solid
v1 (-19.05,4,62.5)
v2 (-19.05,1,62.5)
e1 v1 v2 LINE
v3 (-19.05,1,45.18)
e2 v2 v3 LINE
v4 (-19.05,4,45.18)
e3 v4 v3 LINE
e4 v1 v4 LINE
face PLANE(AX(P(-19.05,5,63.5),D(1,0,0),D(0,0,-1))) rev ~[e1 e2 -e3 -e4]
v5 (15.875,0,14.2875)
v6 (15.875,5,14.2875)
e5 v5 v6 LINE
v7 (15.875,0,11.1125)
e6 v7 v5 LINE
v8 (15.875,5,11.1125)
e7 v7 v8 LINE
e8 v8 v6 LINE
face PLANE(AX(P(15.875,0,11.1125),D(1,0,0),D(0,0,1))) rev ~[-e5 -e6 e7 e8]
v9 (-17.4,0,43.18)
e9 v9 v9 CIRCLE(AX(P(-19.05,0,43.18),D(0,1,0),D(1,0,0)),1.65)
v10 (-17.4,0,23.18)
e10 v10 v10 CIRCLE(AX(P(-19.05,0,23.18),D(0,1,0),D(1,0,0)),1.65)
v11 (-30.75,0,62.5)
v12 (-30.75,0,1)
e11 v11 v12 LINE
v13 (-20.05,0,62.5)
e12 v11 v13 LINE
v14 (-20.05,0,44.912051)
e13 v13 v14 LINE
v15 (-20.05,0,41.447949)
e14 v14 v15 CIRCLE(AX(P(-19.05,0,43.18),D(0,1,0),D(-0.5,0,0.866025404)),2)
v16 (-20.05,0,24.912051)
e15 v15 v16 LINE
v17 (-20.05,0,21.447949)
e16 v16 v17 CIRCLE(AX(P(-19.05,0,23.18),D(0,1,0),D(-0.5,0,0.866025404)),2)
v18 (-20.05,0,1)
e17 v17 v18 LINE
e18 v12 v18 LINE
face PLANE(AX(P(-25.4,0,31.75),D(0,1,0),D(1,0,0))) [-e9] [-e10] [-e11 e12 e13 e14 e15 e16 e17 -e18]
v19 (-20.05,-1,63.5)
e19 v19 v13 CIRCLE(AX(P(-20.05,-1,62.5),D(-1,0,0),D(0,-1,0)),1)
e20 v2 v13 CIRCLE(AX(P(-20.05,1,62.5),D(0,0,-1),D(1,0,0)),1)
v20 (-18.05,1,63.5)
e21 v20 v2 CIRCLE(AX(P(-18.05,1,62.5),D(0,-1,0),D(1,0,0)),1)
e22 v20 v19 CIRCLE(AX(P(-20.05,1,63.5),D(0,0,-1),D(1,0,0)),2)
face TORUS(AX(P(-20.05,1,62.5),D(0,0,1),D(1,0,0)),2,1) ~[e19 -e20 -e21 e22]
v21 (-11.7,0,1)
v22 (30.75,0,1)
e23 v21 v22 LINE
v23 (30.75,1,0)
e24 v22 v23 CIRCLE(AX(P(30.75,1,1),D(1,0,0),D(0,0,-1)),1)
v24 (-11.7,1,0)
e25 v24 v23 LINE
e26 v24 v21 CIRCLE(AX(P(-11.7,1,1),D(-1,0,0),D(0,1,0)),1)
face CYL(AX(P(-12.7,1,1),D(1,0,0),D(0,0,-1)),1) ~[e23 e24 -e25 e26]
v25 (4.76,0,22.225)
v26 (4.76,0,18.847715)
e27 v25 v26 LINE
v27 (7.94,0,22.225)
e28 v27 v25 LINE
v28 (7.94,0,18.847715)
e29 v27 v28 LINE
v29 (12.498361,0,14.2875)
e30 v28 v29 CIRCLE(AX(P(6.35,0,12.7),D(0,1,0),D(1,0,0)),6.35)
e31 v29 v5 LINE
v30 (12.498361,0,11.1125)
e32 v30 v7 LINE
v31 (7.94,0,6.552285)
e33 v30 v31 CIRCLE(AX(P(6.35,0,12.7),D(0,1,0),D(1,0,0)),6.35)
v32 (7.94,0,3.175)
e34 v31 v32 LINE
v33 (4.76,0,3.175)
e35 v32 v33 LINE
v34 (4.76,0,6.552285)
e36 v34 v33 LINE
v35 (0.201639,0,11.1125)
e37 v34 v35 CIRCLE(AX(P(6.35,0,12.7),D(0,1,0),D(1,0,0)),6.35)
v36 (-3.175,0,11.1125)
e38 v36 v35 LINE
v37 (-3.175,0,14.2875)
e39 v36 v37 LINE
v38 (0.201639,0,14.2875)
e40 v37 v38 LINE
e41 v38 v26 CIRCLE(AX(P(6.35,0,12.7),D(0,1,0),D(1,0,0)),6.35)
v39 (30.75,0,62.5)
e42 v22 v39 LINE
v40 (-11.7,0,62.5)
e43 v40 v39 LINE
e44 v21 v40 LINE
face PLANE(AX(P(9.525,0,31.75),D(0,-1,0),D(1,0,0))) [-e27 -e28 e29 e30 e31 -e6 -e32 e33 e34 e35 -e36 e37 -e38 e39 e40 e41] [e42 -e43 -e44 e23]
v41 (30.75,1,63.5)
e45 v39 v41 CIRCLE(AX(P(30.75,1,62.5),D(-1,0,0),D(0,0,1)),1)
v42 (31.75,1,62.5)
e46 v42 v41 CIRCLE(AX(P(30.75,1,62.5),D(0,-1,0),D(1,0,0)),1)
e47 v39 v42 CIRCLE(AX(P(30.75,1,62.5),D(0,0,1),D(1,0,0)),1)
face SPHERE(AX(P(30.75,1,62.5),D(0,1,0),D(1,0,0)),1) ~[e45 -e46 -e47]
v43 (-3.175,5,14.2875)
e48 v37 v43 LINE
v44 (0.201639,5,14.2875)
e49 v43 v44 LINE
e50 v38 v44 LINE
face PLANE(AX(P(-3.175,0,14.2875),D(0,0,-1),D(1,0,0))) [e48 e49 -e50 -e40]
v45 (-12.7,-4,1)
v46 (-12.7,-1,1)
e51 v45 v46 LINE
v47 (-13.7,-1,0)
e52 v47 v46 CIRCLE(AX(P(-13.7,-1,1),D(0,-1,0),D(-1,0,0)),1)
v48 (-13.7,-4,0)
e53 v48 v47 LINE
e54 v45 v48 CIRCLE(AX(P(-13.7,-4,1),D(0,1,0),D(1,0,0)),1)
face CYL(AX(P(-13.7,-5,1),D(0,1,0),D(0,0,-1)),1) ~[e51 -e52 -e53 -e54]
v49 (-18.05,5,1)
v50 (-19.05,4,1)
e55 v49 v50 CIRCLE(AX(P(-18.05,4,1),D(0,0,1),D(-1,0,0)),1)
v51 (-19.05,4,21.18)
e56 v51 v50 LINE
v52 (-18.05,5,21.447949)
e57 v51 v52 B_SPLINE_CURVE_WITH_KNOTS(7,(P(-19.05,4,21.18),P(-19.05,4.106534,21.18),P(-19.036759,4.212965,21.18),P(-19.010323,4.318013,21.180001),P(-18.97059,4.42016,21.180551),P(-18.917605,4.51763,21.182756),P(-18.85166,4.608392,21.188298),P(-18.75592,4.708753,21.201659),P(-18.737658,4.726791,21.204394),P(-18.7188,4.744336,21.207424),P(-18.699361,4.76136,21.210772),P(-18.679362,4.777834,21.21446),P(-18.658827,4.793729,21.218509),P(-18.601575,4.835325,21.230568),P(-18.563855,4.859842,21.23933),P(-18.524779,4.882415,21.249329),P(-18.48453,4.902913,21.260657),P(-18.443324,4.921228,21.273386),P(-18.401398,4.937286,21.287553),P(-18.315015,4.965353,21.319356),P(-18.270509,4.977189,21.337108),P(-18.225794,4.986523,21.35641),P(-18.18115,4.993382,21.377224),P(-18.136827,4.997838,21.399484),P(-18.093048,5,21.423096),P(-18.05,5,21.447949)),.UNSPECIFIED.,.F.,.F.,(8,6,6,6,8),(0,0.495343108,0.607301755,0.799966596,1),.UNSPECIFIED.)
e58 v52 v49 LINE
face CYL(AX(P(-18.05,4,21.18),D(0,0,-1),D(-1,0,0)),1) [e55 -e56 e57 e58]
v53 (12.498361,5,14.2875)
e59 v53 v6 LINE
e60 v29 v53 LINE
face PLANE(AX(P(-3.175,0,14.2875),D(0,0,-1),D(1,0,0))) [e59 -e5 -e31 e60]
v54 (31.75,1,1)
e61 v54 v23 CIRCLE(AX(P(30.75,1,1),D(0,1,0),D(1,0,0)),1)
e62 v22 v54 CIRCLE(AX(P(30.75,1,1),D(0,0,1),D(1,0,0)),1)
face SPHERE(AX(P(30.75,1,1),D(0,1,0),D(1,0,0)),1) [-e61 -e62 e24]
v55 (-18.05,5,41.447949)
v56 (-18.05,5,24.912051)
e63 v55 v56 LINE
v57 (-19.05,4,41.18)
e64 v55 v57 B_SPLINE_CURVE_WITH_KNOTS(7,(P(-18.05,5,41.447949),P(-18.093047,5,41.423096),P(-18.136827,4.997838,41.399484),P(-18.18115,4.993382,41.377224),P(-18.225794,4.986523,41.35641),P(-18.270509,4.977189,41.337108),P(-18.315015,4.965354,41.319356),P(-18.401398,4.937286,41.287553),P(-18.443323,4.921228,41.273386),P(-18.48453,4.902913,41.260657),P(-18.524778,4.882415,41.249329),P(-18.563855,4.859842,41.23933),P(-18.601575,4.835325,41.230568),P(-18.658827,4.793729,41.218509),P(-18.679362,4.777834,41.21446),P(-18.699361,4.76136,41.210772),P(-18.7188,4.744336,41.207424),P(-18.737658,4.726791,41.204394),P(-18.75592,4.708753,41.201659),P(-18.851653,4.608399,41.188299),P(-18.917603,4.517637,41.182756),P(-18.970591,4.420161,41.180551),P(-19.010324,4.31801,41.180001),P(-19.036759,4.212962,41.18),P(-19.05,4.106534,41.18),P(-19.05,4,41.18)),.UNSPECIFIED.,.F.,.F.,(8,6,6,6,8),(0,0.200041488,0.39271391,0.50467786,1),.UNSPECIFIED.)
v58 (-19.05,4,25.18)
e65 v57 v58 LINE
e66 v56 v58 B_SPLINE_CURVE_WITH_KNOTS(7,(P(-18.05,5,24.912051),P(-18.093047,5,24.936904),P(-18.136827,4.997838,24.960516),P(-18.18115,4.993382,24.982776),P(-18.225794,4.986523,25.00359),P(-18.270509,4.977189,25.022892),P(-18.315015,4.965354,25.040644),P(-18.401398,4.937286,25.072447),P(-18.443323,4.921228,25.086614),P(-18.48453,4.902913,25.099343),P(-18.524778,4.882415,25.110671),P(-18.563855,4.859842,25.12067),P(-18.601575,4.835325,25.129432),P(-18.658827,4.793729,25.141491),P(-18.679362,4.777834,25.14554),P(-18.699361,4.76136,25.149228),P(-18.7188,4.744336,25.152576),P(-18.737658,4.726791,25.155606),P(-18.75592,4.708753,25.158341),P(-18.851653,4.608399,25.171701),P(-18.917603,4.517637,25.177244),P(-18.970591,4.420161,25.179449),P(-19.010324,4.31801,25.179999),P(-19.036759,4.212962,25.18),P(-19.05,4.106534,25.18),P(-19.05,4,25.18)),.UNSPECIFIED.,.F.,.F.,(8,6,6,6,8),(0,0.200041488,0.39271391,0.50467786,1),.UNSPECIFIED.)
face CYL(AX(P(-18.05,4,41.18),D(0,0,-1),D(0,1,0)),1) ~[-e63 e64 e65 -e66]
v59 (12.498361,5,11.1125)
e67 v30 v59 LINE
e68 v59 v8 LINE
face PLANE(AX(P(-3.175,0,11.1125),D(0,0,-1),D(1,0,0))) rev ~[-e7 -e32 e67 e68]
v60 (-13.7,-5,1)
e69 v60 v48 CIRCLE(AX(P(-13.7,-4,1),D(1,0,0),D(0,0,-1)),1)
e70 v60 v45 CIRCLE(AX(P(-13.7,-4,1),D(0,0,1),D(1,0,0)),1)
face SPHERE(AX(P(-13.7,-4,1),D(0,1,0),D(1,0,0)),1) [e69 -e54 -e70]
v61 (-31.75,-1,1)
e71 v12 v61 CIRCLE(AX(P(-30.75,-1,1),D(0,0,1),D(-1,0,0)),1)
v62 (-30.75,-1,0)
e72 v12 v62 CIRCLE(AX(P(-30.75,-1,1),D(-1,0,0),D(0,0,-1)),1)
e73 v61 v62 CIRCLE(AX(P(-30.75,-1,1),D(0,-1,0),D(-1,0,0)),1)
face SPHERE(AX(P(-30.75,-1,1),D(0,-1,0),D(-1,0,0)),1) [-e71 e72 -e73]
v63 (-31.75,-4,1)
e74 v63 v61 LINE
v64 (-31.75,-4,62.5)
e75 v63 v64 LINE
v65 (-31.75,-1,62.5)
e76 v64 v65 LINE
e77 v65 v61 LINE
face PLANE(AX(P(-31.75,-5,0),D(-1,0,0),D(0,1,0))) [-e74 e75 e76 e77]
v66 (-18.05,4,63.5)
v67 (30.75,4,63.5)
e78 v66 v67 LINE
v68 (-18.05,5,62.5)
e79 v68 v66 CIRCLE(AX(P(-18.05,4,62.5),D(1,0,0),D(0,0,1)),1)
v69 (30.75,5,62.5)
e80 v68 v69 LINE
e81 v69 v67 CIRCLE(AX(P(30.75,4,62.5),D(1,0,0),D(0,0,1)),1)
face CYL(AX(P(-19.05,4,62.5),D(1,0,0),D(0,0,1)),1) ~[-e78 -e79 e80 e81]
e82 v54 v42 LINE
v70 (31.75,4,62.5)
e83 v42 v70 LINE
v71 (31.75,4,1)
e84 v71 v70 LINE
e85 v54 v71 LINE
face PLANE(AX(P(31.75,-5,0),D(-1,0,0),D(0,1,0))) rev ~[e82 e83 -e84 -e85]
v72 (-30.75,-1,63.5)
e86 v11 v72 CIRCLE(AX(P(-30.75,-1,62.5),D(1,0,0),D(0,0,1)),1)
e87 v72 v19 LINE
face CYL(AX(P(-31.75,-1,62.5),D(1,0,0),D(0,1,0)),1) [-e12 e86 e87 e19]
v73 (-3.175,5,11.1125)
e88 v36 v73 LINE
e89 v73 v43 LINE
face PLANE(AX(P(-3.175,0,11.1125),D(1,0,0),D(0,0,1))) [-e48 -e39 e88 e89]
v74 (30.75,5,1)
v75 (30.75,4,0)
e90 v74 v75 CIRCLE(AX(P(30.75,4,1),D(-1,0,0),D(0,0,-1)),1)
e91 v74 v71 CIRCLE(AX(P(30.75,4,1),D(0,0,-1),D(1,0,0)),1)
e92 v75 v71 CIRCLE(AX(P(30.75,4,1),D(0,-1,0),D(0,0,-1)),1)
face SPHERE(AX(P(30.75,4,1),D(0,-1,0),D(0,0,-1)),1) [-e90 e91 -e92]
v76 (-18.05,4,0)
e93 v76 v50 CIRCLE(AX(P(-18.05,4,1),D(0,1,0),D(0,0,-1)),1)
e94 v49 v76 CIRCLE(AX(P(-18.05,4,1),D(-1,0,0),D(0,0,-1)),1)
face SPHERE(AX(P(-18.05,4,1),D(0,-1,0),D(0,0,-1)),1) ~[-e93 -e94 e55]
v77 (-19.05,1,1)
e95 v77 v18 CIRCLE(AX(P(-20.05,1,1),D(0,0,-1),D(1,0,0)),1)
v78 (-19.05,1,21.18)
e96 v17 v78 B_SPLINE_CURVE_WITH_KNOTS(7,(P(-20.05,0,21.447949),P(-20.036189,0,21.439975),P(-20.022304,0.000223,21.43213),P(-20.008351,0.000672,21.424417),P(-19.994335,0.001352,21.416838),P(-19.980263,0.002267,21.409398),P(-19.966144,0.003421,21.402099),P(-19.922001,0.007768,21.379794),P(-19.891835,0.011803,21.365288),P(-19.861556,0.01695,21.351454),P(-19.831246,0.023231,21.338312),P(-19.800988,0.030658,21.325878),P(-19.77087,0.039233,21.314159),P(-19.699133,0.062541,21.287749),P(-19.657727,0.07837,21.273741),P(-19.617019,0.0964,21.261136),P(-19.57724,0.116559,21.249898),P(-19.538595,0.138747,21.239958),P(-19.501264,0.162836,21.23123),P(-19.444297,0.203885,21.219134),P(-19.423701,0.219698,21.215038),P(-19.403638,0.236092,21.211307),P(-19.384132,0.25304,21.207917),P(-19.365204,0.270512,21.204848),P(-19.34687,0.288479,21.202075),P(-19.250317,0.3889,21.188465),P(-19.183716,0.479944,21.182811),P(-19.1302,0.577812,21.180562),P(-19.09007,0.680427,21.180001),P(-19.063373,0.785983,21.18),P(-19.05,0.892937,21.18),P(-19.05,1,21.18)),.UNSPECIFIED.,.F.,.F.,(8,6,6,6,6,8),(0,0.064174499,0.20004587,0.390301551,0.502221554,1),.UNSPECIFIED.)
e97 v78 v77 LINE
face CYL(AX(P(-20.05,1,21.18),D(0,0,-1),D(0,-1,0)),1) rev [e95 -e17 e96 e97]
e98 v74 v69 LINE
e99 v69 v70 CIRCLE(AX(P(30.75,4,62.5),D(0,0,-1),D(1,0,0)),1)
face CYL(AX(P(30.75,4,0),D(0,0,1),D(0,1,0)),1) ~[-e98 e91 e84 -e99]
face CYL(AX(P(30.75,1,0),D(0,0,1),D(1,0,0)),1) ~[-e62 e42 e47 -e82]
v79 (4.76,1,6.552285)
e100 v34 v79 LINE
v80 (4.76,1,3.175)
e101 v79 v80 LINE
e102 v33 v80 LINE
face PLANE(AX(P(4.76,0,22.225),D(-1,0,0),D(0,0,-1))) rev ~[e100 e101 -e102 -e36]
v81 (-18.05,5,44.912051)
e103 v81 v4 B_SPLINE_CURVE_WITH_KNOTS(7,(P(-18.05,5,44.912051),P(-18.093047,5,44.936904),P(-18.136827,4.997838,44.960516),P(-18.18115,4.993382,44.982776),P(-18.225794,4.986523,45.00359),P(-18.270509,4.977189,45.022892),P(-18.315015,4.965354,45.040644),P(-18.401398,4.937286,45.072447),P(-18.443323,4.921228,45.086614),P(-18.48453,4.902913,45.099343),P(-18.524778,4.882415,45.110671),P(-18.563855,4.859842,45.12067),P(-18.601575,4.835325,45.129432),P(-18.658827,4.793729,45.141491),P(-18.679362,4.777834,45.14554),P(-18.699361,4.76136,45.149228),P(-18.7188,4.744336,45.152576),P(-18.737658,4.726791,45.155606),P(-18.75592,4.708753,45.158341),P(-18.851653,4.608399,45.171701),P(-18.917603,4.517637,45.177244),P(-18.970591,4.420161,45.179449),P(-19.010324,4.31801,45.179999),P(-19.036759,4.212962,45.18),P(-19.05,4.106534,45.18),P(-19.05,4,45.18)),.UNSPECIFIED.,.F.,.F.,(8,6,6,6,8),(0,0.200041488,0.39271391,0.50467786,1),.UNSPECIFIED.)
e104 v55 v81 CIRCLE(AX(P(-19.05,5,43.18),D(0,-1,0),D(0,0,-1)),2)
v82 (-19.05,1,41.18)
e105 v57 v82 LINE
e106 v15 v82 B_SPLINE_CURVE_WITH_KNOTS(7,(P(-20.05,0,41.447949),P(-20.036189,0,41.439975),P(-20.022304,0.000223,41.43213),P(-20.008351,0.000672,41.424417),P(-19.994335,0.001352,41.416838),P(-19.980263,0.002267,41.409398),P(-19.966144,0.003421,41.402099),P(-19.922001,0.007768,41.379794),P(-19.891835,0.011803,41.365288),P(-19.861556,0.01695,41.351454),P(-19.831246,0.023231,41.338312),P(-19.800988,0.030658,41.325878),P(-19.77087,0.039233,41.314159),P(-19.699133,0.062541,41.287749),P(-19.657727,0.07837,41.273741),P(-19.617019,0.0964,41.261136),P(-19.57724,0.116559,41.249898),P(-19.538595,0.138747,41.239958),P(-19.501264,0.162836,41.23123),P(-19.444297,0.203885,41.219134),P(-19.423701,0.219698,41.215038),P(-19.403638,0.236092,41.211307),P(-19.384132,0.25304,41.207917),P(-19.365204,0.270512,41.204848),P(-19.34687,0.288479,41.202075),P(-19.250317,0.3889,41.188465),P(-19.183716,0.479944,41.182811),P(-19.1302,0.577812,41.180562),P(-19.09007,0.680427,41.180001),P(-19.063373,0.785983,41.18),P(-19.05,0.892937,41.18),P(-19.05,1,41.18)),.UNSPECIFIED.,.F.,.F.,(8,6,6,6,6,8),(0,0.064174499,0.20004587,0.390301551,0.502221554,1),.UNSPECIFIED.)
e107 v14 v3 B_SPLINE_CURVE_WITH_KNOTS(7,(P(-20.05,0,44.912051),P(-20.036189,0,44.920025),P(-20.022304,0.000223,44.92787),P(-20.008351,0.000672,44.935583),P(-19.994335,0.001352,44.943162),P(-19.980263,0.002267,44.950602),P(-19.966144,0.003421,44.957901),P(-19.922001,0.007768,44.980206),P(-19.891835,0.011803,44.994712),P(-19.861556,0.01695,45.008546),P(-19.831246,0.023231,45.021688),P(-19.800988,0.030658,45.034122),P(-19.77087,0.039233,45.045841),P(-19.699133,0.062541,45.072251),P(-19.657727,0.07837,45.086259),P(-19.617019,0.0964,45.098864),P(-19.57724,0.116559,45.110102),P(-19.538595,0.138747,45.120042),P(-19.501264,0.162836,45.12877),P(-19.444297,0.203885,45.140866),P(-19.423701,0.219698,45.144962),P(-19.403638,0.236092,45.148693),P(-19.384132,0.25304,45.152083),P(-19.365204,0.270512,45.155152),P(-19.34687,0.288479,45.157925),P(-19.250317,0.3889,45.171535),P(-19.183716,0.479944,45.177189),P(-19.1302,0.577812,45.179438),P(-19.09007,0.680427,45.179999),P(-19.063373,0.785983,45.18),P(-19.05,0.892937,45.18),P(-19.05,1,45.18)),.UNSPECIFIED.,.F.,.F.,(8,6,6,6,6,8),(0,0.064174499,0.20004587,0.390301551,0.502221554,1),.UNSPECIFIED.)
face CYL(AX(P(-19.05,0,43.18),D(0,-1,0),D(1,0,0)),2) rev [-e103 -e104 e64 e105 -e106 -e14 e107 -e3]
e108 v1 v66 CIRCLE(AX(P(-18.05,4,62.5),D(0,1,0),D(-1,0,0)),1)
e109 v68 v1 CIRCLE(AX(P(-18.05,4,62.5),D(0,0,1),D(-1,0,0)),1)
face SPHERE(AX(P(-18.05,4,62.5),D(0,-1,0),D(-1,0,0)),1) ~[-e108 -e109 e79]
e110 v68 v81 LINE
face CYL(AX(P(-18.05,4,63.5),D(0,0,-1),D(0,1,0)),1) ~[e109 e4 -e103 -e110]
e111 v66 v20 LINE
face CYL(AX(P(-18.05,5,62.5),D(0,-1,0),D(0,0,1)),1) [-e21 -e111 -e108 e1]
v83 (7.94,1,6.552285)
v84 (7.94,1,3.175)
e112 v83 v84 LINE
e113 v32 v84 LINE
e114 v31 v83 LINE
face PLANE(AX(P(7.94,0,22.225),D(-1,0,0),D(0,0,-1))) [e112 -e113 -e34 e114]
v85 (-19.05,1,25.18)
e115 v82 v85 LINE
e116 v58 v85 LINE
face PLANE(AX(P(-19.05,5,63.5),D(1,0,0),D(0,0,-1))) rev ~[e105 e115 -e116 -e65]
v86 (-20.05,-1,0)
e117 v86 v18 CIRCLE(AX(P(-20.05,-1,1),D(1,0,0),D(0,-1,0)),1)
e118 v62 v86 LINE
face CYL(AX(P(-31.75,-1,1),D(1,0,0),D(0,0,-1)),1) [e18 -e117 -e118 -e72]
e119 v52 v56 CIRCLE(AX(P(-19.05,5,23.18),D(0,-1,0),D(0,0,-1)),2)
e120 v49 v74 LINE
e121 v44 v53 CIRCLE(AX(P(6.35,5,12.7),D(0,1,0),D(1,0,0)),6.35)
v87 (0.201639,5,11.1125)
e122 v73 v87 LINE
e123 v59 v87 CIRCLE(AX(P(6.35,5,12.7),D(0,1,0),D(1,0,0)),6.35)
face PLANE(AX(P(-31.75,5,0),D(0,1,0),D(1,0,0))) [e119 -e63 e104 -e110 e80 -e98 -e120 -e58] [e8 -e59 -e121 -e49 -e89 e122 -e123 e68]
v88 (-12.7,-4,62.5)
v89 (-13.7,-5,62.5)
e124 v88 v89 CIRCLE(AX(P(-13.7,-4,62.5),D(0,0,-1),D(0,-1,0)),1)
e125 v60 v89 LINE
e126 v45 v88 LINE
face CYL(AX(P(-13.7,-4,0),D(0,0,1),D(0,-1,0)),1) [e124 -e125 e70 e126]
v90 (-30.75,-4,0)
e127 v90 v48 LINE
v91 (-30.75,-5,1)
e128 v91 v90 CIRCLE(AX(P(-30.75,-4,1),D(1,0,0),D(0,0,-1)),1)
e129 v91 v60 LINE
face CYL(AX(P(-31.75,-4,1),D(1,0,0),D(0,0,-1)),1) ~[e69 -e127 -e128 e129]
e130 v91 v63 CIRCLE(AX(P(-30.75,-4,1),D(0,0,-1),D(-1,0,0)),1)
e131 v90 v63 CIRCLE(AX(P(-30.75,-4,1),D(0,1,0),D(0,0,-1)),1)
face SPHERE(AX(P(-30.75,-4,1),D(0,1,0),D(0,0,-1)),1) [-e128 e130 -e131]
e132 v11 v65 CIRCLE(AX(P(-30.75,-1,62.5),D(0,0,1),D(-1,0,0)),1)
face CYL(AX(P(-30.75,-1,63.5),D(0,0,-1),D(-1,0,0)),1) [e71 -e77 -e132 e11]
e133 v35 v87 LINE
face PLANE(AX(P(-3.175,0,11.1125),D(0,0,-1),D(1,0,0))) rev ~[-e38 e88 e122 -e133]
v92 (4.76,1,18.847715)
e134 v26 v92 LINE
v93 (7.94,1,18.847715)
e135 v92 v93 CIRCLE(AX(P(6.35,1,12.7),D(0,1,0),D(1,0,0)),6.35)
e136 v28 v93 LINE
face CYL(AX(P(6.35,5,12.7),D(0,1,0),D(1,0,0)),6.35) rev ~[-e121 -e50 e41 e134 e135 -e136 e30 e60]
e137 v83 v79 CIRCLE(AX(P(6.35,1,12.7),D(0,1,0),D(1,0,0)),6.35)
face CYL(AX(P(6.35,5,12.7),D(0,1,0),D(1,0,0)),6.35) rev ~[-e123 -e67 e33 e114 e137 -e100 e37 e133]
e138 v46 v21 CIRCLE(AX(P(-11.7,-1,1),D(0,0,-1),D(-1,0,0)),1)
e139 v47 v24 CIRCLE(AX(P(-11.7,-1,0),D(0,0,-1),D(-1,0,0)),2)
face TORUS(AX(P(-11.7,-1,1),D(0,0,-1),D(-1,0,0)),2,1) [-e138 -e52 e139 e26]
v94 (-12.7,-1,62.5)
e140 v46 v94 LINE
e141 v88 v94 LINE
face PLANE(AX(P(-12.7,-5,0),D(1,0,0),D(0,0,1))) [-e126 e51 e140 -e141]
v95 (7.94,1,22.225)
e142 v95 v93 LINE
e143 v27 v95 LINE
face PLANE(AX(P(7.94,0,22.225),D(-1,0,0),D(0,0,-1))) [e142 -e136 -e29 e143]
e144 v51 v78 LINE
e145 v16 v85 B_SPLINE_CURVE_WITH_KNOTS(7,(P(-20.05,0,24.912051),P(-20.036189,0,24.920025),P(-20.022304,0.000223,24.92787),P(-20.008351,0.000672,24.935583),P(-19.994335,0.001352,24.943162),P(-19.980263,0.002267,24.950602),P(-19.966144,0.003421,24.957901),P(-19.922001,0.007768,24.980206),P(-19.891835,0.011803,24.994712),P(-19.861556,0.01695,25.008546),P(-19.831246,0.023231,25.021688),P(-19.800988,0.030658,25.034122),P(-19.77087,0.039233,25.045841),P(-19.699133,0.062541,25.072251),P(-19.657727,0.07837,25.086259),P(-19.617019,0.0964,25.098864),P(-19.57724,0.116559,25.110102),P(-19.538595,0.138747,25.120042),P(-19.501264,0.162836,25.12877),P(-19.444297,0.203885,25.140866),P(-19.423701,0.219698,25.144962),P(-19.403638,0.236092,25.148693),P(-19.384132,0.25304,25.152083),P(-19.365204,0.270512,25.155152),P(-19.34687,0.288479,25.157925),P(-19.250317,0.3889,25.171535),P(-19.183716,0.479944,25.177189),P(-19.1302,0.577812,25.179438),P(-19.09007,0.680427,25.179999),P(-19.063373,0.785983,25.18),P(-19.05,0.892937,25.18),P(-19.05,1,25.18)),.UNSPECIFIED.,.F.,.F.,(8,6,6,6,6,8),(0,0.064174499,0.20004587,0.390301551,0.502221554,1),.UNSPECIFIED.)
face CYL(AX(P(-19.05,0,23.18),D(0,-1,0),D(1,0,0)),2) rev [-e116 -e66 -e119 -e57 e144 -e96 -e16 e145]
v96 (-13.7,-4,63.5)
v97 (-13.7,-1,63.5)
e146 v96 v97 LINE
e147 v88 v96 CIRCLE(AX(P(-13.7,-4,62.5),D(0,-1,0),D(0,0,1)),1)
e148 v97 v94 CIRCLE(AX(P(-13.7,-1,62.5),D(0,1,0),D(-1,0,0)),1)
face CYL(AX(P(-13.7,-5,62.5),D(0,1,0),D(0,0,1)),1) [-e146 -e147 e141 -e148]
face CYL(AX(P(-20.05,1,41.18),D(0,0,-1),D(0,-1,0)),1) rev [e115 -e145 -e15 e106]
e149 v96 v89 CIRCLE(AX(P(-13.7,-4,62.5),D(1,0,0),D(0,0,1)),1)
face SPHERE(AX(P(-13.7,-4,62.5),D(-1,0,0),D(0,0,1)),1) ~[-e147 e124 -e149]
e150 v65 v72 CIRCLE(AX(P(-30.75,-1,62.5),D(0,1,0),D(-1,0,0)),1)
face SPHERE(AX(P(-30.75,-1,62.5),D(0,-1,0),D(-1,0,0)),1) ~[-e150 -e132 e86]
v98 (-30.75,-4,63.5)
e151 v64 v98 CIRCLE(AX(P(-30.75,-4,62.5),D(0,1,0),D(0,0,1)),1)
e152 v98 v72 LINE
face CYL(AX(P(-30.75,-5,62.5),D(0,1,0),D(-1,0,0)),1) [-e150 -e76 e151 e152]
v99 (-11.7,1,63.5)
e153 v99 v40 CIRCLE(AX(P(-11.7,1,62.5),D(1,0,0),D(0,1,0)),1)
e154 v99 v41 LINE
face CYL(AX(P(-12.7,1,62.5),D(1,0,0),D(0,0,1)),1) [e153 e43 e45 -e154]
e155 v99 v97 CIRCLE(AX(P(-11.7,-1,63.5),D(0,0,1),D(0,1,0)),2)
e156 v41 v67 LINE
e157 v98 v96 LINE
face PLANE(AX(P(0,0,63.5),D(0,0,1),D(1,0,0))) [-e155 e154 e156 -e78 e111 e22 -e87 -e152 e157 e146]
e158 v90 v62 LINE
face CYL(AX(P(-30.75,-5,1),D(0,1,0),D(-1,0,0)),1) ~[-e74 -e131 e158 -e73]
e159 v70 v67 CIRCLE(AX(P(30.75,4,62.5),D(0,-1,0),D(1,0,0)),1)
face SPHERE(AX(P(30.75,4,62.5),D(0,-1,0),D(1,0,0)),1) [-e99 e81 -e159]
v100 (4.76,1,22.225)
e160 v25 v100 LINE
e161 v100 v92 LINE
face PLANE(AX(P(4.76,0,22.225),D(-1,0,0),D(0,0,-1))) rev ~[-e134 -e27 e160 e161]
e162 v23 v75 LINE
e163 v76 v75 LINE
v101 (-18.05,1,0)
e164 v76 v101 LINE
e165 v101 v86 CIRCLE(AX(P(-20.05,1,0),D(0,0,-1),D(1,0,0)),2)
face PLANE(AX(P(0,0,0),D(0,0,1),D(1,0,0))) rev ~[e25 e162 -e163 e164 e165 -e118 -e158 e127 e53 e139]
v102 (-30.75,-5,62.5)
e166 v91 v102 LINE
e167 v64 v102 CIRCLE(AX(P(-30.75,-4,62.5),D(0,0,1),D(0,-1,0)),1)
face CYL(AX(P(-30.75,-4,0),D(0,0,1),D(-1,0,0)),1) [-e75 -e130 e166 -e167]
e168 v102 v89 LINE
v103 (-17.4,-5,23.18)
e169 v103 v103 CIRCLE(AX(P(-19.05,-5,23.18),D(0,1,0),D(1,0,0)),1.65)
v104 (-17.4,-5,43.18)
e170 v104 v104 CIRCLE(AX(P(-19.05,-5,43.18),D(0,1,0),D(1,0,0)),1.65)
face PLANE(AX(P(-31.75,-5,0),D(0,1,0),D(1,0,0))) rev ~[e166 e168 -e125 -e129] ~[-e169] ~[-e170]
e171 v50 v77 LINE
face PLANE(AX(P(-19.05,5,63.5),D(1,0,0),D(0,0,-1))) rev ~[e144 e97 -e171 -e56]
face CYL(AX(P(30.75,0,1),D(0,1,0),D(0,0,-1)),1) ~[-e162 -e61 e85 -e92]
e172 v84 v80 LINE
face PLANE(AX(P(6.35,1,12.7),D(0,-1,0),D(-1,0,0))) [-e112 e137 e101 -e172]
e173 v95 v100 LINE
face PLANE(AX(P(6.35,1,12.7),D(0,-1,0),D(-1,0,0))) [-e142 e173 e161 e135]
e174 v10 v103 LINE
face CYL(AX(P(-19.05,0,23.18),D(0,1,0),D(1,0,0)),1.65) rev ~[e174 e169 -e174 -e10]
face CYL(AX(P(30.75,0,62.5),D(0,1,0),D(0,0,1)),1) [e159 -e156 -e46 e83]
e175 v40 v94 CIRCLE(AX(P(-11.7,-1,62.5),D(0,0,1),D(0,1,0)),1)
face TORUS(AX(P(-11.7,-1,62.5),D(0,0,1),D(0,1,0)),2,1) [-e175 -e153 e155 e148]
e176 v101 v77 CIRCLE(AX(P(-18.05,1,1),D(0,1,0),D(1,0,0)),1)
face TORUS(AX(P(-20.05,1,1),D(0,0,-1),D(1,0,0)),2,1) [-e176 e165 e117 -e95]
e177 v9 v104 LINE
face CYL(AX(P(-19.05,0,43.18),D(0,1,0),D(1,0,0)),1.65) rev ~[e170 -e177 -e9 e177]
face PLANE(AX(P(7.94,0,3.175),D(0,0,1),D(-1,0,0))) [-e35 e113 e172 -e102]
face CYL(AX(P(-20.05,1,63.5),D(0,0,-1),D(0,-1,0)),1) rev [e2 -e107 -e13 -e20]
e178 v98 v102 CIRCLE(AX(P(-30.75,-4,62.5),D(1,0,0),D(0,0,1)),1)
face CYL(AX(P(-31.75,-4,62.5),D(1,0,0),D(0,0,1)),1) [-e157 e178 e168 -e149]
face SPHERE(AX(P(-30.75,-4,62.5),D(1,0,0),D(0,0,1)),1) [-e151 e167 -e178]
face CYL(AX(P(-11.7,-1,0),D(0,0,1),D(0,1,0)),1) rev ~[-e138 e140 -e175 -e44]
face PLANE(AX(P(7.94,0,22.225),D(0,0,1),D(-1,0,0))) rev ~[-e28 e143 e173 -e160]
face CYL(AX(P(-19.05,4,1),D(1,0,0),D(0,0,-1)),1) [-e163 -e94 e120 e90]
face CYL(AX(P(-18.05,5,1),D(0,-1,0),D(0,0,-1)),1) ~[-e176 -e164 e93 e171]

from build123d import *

# Parameters (mm, degrees)
SKETCH1_W           = 63.5
SKETCH1_H           = 10
BOSS_EXTRUDE1_DEPTH = 63.5
SKETCH2_W           = 12.7
SKETCH2_H           = 63.5
CUT_EXTRUDE1_DEPTH  = 5
SKETCH3_W           = 44.45
SKETCH3_H           = 63.5
CUT_EXTRUDE2_DEPTH  = 5
SKETCH4_R           = 6.35
CUT_EXTRUDE3_DEPTH  = 5
SKETCH5_W           = 19.05
SKETCH5_H           = 3.175
CUT_EXTRUDE4_DEPTH  = 5
SKETCH6_R           = 2
CUT_EXTRUDE5_DEPTH  = 6
SKETCH7_R           = 1.65
CUT_EXTRUDE6_DEPTH  = 6
FILLET1_R           = 1
SKETCH8_W           = 3.18
SKETCH8_H           = 19.05
CUT_EXTRUDE7_DEPTH  = 1


with BuildPart() as part:
    # Sketch1 → Boss-Extrude1 (new body)
    with BuildSketch(Plane.XY):
        Rectangle(SKETCH1_W, SKETCH1_H)
    extrude(amount=BOSS_EXTRUDE1_DEPTH)

    # Sketch2 → Cut-Extrude1 (cut)
    with BuildSketch(Plane(origin=(0, 5, 0), x_dir=(1, 0, 0), z_dir=(0, 1, 0))):
        with Locations((-25.4, -31.75)):
            Rectangle(SKETCH2_W, SKETCH2_H)
    extrude(amount=-CUT_EXTRUDE1_DEPTH, mode=Mode.SUBTRACT)

    # Sketch3 → Cut-Extrude2 (cut)
    with BuildSketch(Plane.XZ.offset(5)):
        with Locations((9.525, 31.75)):
            Rectangle(SKETCH3_W, SKETCH3_H)
    extrude(amount=-CUT_EXTRUDE2_DEPTH, mode=Mode.SUBTRACT)

    # Sketch4 → Cut-Extrude3 (cut)
    with BuildSketch(Plane(origin=(0, 5, 0), x_dir=(1, 0, 0), z_dir=(0, 1, 0))):
        with Locations((6.35, -12.7)):
            Circle(SKETCH4_R)
    extrude(amount=-CUT_EXTRUDE3_DEPTH, mode=Mode.SUBTRACT)

    # Sketch5 → Cut-Extrude4 (cut)
    with BuildSketch(Plane.XZ):
        with Locations((6.35, 12.7)):
            Rectangle(SKETCH5_W, SKETCH5_H)
    extrude(amount=-CUT_EXTRUDE4_DEPTH, mode=Mode.SUBTRACT)

    # Sketch6 → Cut-Extrude5 (cut, through all)
    with BuildSketch(Plane(origin=(0, 0, 0), x_dir=(1, 0, 0), z_dir=(0, 1, 0))):
        with Locations((-19.05, -43.18)):
            Circle(SKETCH6_R)
        with Locations((-19.05, -23.18)):
            Circle(SKETCH6_R)
    extrude(amount=CUT_EXTRUDE5_DEPTH, mode=Mode.SUBTRACT)

    # Sketch7 → Cut-Extrude6 (cut, through all)
    with BuildSketch(Plane(origin=(0, 0, 0), x_dir=(1, 0, 0), z_dir=(0, 1, 0))):
        with Locations((-19.05, -23.18)):
            Circle(SKETCH7_R)
        with Locations((-19.05, -43.18)):
            Circle(SKETCH7_R)
    extrude(amount=-CUT_EXTRUDE6_DEPTH, mode=Mode.SUBTRACT)

    # Fillet1
    fillet1_edges = [part.edges().sort_by_distance(p)[0] for p in [
        (-31.75, -2.5, 0),
        (-22.225, -5, 63.5),
        (-31.75, -2.5, 63.5),
        (-19.05, 2.5, 0),
        (-19.05, 2.5, 63.5),
        (-19.05, 5, 54.34),
        (-31.75, 0, 31.75),
        (-25.4, 0, 0),
        (-19.05, 0, 10.59),
        (-25.4, 0, 63.5),
        (31.75, 2.5, 0),
        (31.75, 2.5, 63.5),
        (31.75, 0, 31.75),
        (9.525, 0, 0),
        (-12.7, 0, 31.75),
        (-12.7, -2.5, 0),
        (9.525, 0, 63.5),
        (-12.7, -2.5, 63.5),
        (-12.7, -5, 31.75),
        (-22.225, -5, 0),
        (6.35, 5, 0),
        (-31.75, -5, 31.75),
        (31.75, 5, 31.75),
        (6.35, 5, 63.5),
        (-19.05, 0, 33.18),
        (-19.05, 0, 54.34),
        (-19.05, 5, 33.18),
        (-19.05, 5, 10.59),
    ]]
    fillet(fillet1_edges, radius=FILLET1_R)

    # Sketch8 → Cut-Extrude7 (cut)
    with BuildSketch(Plane(origin=(0, 0, 0), x_dir=(-1, 0, 0), z_dir=(0, -1, 0))):
        with Locations((-6.35, -12.7)):
            Rectangle(SKETCH8_W, SKETCH8_H)
    extrude(amount=-CUT_EXTRUDE7_DEPTH, mode=Mode.SUBTRACT)


solid = part.part
